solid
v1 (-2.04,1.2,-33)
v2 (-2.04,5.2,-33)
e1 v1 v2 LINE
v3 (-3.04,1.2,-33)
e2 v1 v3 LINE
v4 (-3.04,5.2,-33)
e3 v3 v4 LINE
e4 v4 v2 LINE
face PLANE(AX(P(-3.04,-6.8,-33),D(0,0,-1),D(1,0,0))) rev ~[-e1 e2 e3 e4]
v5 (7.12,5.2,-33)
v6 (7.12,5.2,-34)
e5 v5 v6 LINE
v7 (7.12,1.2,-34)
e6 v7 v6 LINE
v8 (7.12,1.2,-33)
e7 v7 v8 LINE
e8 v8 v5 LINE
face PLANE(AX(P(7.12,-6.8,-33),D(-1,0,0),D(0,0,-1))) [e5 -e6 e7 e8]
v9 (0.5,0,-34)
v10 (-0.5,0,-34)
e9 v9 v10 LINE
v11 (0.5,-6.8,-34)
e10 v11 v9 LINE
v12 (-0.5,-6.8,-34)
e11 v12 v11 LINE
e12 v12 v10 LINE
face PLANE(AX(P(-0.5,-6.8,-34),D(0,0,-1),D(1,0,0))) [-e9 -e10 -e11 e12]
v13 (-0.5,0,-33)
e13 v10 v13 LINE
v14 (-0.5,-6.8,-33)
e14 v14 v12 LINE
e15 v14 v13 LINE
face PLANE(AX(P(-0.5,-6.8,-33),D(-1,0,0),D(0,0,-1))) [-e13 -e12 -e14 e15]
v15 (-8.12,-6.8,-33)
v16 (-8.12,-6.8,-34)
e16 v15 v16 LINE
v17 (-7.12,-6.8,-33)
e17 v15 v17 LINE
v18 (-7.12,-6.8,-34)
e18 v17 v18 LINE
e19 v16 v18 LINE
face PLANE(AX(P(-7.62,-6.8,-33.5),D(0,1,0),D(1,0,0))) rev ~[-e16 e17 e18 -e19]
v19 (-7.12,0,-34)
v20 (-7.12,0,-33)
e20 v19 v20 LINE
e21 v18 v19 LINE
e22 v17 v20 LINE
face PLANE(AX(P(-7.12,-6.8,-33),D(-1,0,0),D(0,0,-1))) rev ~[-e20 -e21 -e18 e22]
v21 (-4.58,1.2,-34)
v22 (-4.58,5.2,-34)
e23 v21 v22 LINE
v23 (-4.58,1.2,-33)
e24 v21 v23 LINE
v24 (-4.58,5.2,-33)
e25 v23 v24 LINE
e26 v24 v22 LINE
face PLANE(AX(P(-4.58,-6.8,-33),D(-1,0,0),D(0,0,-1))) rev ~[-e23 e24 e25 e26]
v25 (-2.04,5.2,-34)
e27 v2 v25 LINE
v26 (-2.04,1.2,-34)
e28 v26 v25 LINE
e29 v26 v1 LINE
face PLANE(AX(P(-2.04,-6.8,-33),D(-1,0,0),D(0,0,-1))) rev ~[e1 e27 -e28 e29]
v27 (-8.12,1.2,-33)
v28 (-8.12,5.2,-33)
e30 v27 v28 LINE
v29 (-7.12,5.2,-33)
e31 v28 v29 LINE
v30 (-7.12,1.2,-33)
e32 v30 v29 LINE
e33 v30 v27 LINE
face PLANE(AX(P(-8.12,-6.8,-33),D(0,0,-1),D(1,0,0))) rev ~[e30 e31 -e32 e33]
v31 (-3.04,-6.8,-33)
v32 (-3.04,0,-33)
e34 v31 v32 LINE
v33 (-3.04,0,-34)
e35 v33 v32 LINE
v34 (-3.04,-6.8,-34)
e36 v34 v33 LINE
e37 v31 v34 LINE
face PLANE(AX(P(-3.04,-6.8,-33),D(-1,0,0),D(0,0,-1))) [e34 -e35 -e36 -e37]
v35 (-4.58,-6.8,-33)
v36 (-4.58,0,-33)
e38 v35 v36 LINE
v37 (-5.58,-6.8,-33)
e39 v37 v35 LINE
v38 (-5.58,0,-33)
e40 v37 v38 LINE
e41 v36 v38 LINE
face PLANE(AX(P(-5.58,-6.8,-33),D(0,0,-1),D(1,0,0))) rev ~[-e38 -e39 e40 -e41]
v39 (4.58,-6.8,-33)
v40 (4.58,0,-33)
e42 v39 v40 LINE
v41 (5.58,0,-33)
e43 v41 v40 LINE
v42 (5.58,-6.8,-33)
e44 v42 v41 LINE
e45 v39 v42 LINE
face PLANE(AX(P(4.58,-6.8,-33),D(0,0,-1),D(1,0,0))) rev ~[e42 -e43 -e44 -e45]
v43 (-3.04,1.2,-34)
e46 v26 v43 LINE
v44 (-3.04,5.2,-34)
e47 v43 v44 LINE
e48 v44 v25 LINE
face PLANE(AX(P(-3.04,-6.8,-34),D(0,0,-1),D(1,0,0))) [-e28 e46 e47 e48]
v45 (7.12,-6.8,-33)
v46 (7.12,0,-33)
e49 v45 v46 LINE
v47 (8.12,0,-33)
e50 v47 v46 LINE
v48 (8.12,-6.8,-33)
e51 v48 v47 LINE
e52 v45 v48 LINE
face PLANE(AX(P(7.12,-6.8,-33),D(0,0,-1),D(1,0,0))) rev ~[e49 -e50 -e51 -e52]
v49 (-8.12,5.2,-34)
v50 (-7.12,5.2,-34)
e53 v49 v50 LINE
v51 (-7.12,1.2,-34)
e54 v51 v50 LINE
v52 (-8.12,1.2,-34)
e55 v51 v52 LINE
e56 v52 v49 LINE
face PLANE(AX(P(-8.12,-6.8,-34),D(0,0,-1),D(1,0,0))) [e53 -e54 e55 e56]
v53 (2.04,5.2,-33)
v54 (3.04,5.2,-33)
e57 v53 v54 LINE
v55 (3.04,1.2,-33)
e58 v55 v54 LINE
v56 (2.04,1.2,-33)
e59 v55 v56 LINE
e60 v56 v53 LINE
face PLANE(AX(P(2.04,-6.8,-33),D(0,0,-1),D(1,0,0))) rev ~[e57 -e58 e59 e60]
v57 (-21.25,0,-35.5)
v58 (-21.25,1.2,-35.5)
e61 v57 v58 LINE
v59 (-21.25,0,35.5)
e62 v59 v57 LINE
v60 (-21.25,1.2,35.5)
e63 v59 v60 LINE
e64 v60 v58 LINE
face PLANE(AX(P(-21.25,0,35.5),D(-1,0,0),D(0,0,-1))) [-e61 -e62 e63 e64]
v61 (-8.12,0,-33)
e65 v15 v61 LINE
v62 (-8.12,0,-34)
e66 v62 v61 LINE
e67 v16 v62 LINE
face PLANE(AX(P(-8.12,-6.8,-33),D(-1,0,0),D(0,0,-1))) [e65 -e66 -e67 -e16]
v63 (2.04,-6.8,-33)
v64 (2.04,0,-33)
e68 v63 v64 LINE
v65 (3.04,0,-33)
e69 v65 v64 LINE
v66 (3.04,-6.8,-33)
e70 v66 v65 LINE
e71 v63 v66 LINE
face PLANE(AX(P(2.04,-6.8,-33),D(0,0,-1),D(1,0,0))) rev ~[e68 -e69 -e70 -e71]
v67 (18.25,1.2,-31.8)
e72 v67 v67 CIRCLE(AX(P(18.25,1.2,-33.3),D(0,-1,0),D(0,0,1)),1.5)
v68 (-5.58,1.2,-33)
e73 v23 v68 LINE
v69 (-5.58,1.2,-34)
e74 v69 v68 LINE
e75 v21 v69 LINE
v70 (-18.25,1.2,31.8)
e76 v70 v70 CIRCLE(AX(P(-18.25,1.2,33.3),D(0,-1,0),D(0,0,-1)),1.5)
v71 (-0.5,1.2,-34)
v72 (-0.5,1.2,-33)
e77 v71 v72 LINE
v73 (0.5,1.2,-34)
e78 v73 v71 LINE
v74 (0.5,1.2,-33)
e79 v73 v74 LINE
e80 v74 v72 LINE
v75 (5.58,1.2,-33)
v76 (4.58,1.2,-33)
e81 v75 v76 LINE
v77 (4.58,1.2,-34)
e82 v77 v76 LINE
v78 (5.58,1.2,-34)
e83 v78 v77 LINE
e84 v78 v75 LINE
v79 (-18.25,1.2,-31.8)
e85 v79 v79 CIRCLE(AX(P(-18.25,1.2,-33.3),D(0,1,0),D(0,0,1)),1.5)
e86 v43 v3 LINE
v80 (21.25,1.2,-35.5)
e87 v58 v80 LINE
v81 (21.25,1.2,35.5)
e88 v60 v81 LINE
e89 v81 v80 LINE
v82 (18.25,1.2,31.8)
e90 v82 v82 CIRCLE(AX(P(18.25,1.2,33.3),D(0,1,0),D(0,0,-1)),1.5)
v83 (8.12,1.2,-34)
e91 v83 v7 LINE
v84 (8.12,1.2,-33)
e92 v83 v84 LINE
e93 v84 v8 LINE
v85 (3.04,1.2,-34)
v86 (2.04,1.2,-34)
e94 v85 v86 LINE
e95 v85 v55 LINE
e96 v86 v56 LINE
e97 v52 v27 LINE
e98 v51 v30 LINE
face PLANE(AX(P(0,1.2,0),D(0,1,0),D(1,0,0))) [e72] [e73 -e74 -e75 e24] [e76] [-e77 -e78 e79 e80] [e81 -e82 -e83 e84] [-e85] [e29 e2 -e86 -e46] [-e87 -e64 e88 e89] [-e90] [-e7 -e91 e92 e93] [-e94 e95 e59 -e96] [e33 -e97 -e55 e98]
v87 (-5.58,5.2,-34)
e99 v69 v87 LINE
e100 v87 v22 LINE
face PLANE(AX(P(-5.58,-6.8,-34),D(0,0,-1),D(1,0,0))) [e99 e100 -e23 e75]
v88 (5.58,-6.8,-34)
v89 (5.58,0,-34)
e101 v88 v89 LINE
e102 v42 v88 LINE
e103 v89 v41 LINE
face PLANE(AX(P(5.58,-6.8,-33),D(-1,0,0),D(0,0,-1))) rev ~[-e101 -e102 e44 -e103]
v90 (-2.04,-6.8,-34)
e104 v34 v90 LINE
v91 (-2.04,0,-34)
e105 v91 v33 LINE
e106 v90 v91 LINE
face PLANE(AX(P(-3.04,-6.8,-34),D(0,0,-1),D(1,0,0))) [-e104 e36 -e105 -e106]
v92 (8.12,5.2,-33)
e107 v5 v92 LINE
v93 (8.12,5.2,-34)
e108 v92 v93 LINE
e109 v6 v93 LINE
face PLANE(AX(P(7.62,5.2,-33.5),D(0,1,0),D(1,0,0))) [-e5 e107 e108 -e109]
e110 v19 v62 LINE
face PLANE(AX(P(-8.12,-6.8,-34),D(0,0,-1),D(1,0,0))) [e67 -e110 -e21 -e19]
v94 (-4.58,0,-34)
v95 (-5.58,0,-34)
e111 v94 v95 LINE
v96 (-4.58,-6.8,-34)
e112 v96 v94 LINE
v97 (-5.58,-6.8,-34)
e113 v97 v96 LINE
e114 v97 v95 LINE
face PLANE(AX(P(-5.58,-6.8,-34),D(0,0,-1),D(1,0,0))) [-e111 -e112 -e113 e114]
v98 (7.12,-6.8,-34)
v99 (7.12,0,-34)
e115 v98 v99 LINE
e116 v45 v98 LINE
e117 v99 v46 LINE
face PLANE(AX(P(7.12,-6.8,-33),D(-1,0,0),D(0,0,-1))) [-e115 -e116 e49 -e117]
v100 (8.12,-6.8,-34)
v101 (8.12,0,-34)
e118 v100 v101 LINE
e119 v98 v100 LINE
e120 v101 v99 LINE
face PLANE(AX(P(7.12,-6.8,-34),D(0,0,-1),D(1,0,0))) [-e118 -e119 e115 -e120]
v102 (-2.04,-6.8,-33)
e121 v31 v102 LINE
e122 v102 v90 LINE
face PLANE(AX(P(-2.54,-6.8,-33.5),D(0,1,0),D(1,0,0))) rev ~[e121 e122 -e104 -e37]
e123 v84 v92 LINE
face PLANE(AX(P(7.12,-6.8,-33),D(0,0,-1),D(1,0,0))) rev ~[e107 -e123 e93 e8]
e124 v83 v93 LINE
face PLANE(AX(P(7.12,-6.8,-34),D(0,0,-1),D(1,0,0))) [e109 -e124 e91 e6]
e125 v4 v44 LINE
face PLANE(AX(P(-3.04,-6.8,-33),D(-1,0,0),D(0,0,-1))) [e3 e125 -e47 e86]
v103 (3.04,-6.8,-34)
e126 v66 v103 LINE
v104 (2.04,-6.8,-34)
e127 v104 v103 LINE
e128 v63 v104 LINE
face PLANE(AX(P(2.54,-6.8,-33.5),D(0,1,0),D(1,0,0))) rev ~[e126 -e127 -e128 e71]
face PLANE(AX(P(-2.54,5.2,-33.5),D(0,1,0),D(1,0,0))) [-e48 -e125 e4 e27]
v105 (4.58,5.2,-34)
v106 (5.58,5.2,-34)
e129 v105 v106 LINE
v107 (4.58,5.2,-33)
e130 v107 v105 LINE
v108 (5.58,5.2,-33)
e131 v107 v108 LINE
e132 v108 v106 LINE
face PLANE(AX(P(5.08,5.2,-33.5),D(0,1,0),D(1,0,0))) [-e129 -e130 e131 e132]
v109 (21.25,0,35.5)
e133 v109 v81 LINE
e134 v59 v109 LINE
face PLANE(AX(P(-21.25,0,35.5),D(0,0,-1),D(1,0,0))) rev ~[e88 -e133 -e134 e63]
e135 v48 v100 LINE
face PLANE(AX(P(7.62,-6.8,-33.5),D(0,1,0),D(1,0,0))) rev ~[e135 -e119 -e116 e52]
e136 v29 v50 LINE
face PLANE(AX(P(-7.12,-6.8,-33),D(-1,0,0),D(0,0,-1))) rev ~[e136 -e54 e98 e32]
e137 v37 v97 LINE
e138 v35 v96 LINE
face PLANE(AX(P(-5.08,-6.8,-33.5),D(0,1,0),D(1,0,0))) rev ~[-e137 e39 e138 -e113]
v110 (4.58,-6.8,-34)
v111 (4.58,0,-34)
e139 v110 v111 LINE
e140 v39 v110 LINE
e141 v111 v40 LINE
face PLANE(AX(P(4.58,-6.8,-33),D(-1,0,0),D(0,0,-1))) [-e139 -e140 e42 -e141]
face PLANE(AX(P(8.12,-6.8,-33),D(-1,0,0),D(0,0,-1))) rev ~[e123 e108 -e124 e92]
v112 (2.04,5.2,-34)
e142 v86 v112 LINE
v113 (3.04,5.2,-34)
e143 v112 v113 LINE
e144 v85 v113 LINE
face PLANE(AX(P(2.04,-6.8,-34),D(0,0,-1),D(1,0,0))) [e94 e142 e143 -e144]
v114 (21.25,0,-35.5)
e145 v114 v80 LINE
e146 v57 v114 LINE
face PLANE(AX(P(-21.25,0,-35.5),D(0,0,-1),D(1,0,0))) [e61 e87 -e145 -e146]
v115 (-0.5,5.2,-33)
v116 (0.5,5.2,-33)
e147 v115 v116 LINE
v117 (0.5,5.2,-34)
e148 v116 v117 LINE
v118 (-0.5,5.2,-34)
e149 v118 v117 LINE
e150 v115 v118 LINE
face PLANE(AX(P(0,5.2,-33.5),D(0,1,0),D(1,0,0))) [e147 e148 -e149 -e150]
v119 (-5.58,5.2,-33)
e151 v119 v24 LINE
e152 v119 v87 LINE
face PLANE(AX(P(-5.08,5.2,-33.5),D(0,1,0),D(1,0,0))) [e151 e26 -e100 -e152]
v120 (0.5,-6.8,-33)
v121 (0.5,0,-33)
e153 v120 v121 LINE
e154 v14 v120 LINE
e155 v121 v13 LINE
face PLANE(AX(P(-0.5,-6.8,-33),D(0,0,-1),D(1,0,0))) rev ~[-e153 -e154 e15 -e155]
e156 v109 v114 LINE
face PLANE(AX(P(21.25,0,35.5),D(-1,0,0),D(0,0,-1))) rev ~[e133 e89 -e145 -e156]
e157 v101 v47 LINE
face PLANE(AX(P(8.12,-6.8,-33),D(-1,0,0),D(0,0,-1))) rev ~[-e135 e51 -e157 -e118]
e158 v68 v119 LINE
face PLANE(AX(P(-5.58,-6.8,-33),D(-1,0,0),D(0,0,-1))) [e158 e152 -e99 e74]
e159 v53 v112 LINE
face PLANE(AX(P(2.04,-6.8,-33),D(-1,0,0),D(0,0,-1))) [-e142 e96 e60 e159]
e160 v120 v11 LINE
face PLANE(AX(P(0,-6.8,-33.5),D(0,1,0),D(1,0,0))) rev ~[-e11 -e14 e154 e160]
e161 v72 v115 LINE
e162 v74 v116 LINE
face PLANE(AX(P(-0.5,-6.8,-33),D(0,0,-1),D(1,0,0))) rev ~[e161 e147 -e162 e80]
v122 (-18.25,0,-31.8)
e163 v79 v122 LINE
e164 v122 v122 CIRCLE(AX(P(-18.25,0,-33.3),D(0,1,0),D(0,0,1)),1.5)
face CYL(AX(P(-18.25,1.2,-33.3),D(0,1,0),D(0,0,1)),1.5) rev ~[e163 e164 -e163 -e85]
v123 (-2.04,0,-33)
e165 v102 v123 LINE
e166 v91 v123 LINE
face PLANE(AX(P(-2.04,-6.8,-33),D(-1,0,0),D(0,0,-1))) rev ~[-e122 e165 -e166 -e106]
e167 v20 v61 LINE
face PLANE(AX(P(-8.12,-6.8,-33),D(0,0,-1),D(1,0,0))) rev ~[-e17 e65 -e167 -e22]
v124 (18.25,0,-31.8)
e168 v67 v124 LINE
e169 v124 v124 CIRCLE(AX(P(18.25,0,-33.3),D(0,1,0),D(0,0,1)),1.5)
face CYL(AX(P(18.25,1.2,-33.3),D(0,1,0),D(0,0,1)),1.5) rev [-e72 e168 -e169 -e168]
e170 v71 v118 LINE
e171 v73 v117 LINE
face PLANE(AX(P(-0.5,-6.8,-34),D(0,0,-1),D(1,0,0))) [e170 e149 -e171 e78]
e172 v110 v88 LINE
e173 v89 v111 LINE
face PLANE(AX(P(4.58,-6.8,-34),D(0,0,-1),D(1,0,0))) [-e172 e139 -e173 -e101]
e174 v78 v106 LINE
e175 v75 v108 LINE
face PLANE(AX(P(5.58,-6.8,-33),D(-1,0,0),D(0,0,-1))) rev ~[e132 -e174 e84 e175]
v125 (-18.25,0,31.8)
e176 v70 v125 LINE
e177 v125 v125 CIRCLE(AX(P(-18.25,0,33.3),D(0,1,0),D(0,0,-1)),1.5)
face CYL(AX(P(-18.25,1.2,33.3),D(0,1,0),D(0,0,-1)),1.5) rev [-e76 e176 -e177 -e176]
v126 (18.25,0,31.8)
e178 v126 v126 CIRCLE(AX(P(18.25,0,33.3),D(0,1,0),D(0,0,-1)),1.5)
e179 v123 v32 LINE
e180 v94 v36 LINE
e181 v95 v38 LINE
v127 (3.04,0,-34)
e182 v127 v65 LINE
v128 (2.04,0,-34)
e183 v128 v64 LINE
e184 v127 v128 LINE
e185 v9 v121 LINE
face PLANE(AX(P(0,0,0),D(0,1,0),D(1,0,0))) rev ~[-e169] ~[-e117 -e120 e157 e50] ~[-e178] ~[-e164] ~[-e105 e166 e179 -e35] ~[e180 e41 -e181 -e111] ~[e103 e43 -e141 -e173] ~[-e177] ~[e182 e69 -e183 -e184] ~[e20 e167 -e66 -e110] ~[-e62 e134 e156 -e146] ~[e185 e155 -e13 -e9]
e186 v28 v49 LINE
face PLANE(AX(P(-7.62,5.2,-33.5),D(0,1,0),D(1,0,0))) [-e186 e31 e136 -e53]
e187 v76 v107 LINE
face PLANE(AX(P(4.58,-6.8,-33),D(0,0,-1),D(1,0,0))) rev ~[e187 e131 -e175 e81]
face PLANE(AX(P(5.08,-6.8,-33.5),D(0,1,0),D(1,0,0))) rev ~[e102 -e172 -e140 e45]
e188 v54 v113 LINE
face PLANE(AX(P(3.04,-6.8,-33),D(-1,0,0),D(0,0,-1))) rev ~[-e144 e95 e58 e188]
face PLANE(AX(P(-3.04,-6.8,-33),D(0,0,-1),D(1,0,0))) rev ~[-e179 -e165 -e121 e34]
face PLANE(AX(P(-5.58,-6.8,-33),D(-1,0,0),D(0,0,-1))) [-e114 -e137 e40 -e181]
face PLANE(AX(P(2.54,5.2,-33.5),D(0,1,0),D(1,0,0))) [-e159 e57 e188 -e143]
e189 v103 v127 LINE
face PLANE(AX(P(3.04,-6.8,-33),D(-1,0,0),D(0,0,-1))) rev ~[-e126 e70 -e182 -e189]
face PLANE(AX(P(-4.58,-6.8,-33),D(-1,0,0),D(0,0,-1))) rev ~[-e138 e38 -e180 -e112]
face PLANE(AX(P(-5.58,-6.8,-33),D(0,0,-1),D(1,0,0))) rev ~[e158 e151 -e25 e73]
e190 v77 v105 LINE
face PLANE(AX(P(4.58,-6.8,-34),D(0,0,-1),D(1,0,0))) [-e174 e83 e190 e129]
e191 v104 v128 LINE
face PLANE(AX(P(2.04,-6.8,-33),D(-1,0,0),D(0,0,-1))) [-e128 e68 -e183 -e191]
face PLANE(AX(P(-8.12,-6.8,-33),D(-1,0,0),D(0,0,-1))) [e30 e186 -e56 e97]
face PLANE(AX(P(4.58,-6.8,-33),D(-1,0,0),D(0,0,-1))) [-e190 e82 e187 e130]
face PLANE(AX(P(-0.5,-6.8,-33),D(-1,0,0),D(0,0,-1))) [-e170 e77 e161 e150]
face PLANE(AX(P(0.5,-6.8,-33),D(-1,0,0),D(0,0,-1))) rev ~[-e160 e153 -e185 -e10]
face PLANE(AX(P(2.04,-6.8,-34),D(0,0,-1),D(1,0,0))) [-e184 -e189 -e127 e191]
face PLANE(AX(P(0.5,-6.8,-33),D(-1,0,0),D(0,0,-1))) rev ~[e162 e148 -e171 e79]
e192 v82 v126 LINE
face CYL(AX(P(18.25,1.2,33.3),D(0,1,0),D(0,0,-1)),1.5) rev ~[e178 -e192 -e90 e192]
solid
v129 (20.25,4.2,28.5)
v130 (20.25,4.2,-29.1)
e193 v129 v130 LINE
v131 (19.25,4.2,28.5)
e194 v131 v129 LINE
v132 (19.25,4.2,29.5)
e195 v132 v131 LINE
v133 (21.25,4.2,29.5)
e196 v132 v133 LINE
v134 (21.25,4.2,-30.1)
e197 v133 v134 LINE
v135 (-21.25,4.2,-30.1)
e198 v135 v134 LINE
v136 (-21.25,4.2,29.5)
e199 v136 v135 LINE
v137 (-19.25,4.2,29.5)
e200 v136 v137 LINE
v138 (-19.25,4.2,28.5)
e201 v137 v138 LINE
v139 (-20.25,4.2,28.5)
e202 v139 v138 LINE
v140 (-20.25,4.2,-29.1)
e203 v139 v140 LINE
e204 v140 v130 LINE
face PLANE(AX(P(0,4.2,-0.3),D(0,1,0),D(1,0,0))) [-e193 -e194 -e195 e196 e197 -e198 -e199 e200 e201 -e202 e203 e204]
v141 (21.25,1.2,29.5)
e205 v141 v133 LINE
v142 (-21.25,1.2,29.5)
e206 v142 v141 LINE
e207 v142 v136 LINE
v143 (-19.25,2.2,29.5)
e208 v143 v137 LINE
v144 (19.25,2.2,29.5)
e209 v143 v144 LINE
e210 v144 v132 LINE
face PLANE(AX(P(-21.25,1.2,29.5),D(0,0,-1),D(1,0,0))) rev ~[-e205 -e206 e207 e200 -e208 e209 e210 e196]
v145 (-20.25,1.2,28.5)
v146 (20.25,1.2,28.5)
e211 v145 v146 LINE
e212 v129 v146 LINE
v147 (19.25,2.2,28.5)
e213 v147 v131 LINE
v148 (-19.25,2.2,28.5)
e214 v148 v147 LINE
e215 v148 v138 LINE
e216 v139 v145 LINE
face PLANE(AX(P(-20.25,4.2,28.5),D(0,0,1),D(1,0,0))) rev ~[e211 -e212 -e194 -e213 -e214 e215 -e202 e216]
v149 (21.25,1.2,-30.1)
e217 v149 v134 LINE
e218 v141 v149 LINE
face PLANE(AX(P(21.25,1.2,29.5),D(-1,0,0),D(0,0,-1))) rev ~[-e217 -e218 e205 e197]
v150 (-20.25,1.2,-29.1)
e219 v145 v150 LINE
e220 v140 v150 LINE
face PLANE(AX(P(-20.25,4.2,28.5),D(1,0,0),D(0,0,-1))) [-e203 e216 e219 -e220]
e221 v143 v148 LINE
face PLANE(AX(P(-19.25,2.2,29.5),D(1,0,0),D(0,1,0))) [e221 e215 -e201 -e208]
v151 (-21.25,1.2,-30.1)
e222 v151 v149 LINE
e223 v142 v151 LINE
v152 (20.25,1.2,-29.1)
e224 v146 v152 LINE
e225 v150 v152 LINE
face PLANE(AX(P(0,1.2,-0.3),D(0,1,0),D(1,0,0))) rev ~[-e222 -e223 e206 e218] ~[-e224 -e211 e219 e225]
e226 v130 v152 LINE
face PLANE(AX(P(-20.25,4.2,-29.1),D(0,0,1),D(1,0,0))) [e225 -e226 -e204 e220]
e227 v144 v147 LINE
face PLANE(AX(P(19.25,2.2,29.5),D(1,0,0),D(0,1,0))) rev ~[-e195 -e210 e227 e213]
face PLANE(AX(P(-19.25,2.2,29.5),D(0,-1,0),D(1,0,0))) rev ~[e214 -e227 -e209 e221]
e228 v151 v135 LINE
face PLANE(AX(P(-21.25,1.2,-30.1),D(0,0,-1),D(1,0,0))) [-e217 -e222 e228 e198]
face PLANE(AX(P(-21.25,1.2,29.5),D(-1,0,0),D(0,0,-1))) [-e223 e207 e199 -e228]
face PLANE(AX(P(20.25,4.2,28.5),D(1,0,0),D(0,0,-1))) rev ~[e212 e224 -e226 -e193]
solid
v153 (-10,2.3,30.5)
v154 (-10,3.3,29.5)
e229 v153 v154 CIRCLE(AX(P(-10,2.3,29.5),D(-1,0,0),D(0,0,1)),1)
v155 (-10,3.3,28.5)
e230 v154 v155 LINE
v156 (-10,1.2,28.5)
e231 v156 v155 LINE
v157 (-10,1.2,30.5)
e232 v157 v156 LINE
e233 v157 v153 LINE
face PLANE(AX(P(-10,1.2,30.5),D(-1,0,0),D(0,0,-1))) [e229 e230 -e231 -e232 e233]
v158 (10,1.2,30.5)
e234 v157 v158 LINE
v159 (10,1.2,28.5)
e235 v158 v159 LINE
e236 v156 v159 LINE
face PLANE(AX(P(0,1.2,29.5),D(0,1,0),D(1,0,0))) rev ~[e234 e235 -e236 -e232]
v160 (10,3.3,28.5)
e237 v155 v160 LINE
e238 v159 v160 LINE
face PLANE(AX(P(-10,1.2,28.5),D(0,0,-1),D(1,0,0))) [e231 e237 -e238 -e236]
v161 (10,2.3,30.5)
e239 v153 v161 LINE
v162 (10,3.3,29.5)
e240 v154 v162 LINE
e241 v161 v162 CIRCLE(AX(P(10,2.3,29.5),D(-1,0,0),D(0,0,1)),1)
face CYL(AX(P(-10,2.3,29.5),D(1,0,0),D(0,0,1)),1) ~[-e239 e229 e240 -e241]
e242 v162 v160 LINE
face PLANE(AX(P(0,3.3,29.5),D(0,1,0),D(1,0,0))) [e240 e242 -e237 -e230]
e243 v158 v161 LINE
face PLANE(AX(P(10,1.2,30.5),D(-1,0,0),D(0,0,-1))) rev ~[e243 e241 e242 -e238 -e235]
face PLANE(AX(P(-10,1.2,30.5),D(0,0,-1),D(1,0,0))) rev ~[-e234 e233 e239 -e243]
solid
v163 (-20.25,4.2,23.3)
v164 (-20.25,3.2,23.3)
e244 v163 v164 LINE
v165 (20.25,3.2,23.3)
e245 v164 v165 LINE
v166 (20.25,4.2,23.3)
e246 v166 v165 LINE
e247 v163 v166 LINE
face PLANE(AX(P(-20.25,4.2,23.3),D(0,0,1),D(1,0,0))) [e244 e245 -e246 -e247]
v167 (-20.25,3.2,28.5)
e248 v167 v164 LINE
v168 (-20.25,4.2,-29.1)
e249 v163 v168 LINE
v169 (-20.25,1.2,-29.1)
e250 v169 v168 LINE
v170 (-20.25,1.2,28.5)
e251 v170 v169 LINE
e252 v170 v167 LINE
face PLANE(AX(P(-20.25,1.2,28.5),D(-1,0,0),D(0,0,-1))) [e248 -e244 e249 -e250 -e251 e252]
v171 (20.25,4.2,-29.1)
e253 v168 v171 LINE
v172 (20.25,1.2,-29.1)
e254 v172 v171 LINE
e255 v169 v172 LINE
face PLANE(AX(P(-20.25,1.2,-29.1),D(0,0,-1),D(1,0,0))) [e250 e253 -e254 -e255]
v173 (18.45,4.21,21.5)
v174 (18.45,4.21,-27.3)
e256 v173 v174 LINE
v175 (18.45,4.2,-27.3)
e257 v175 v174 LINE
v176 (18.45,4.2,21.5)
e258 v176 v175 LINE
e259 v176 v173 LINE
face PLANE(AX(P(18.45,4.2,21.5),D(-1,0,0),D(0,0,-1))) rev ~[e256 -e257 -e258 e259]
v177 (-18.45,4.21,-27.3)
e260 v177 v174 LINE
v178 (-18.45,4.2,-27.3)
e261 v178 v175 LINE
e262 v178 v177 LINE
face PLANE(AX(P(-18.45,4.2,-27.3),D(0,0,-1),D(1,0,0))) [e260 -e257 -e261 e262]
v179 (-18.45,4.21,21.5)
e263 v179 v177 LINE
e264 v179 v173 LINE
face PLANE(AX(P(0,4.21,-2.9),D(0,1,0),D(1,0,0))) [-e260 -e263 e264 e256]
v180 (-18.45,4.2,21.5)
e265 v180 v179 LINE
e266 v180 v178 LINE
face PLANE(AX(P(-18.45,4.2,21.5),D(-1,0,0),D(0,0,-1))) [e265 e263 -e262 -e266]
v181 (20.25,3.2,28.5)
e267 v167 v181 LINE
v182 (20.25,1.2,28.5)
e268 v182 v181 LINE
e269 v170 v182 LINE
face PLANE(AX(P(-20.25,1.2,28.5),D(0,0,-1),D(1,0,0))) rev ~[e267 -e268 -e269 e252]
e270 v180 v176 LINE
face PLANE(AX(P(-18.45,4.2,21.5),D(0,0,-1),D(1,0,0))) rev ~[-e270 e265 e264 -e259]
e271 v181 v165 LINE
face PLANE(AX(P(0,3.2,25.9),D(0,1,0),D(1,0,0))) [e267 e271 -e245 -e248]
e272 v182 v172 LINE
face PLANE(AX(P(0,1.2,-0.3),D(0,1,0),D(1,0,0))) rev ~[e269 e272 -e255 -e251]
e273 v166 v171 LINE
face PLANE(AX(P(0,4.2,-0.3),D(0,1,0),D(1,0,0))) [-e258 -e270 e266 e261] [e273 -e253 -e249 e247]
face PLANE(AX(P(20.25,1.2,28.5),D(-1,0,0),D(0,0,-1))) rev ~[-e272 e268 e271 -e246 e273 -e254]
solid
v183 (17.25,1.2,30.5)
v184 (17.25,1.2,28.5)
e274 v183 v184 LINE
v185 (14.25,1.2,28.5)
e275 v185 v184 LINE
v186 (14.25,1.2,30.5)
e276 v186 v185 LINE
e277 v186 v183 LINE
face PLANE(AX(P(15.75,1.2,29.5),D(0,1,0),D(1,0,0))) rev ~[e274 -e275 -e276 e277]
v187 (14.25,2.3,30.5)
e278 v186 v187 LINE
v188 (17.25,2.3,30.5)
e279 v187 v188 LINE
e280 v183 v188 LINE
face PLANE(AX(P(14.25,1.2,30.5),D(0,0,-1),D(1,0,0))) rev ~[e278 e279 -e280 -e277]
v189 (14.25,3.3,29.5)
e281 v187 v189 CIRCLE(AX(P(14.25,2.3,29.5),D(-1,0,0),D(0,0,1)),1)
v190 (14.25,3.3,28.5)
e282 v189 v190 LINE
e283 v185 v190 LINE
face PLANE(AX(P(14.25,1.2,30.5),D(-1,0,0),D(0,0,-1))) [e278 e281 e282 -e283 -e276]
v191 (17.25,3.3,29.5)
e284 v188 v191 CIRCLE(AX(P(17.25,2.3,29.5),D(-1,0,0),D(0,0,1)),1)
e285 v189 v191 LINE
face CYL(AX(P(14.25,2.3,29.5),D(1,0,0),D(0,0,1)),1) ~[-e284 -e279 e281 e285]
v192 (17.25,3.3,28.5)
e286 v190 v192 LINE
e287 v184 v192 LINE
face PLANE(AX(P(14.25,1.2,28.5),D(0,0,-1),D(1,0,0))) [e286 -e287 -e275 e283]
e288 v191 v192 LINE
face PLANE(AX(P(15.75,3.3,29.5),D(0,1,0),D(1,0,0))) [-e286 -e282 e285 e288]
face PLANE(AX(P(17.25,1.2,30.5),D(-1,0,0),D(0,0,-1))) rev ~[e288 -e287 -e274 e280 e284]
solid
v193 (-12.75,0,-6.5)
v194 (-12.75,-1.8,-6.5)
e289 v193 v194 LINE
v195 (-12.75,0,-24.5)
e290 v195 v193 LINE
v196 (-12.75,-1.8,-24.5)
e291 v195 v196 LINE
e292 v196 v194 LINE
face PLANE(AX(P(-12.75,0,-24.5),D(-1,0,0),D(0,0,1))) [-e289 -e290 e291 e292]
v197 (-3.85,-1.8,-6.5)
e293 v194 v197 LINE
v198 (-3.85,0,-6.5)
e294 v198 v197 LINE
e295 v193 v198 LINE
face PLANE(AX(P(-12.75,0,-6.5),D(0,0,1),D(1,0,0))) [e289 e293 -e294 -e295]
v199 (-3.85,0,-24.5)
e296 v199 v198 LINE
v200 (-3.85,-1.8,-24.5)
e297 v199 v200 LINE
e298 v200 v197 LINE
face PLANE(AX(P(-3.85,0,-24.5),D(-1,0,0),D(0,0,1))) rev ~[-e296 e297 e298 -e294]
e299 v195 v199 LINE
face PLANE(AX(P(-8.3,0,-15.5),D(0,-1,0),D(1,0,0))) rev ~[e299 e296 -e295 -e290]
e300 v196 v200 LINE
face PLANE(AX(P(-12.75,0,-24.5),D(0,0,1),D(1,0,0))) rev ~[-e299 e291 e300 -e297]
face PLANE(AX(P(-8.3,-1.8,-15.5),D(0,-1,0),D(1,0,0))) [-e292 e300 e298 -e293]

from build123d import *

# Parameters (mm, degrees)
SKETCH1_W                                  = 42.5
SKETCH1_H                                  = 71
BOSS_EXTRUDE1_DEPTH                        = 1.2
SKETCH7_R                                  = 1.5
CUT_EXTRUDE2_DEPTH                         = 42.391454432
MIRROR1_AT_THE_SECOND_PLANE_COPY_1_SKETC_R = 1.5
MIRROR1_AT_THE_SECOND_PLANE_COPY_1_DEPTH   = 42.391454432
BOSS_EXTRUDE5_START                        = -8
SKETCH8_W                                  = 1
SKETCH8_H                                  = 1
BOSS_EXTRUDE5_DEPTH                        = 12
LPATTERN1_COUNT                            = 4
LPATTERN1_PITCH                            = 2.54
LPATTERN1_COL_COUNT                        = 4
LPATTERN1_COL_PITCH                        = 2.54
SKETCH10_W                                 = 8.9
SKETCH10_H                                 = 18
PCB_COMPONENTS_DEPTH                       = 1.8
SKETCH2_W                                  = 42.5
SKETCH2_H                                  = 59.6
BOSS_EXTRUDE2_DEPTH                        = 3
SKETCH3_W                                  = 40.5
SKETCH3_H                                  = 57.6
CUT_EXTRUDE1_DEPTH                         = 43.811359474
SKETCH12_W                                 = 38.5
SKETCH12_H                                 = 2
CUT_EXTRUDE4_DEPTH                         = 1
SKETCH5_W                                  = 40.5
SKETCH5_H                                  = 57.6
BOSS_EXTRUDE3_DEPTH                        = 3
SKETCH9_W                                  = 40.5
SKETCH9_H                                  = 5.2
CUT_EXTRUDE3_DEPTH                         = 1
SKETCH6_W                                  = 36.9
SKETCH6_H                                  = 48.8
BOSS_EXTRUDE4_DEPTH                        = 0.01
SKETCH11_W                                 = 20
SKETCH11_H                                 = 2
BOSS_EXTRUDE7_DEPTH                        = 2.1
SKETCH11_W_2                               = 3
BOSS_EXTRUDE7_2_DEPTH                      = 2.1
FILLET1_R                                  = 1
FILLET2_R                                  = 1


with BuildPart() as part:
    # Sketch1 → Boss-Extrude1 (new body)
    with BuildSketch(Plane(origin=(0, 0, 0), x_dir=(1, 0, 0), z_dir=(0, 1, 0))):
        Rectangle(SKETCH1_W, SKETCH1_H)
    extrude(amount=BOSS_EXTRUDE1_DEPTH)

    # Sketch7 → Cut-Extrude2 (cut, through all)
    with BuildSketch(Plane(origin=(0, 1.2, 0), x_dir=(1, 0, 0), z_dir=(0, 1, 0))):
        with Locations(Location((-18.25, 33.3, 0), (0, 0, 270))):
            Circle(SKETCH7_R)
    cut_extrude2 = extrude(amount=-CUT_EXTRUDE2_DEPTH, mode=Mode.SUBTRACT)

    # Mirror1: Cut-Extrude2 across plane
    add(cut_extrude2.mirror(Plane.XY), mode=Mode.SUBTRACT)

    # Mirror1 at the second plane: Cut-Extrude2 across plane
    add(cut_extrude2.mirror(Plane(origin=(0, 0, 0), x_dir=(0, 0, 1), z_dir=(1, 0, 0))), mode=Mode.SUBTRACT)

    # Mirror1 at the second plane copy 1 sketc → Mirror1 at the second plane copy 1 (cut, through all)
    with BuildSketch(Plane(origin=(0, 1.2, 0), x_dir=(-1, 0, 0), z_dir=(0, 1, 0))):
        with Locations(Location((-18.25, 33.3, 0), (0, 0, 270))):
            Circle(MIRROR1_AT_THE_SECOND_PLANE_COPY_1_SKETC_R)
    extrude(amount=-MIRROR1_AT_THE_SECOND_PLANE_COPY_1_DEPTH, mode=Mode.SUBTRACT)

    # Sketch8 → Boss-Extrude5 (add)
    with BuildSketch(Plane(origin=(0, 1.2, 0), x_dir=(1, 0, 0), z_dir=(0, 1, 0)).offset(BOSS_EXTRUDE5_START)):
        with Locations((0, 33.5)):
            Rectangle(SKETCH8_W, SKETCH8_H)
    boss_extrude5 = extrude(amount=BOSS_EXTRUDE5_DEPTH)

    # LPattern1: Boss-Extrude5 ×4
    with Locations(*[(i * LPATTERN1_PITCH, 0, 0) for i in range(1, LPATTERN1_COUNT)]):
        add(boss_extrude5)

    # LPattern1 col: Boss-Extrude5 ×4
    with Locations(*[(-i * LPATTERN1_COL_PITCH, 0, 0) for i in range(1, LPATTERN1_COL_COUNT)]):
        add(boss_extrude5)


with BuildPart() as body_2:
    # Sketch10 → PCB components (new body)
    with BuildSketch(Plane.XZ):
        with Locations((-8.3, -15.5)):
            Rectangle(SKETCH10_W, SKETCH10_H)
    extrude(amount=PCB_COMPONENTS_DEPTH)


with BuildPart() as body_3:
    # Sketch2 → Boss-Extrude2 (new body)
    with BuildSketch(Plane(origin=(0, 1.2, 0), x_dir=(1, 0, 0), z_dir=(0, 1, 0))):
        with Locations((0, 0.3)):
            Rectangle(SKETCH2_W, SKETCH2_H)
    extrude(amount=BOSS_EXTRUDE2_DEPTH)

    # Sketch3 → Cut-Extrude1 (cut, through all)
    with BuildSketch(Plane(origin=(0, 4.2, 0), x_dir=(1, 0, 0), z_dir=(0, 1, 0))):
        with Locations((0, 0.3)):
            Rectangle(SKETCH3_W, SKETCH3_H)
    extrude(amount=-CUT_EXTRUDE1_DEPTH, mode=Mode.SUBTRACT)

    # Sketch12 → Cut-Extrude4 (cut)
    with BuildSketch(Plane.XY.offset(29.5)):
        with Locations((0, 3.2)):
            Rectangle(SKETCH12_W, SKETCH12_H)
    extrude(amount=-CUT_EXTRUDE4_DEPTH, mode=Mode.SUBTRACT)


with BuildPart() as body_4:
    # Sketch5 → Boss-Extrude3 (new body)
    with BuildSketch(Plane(origin=(0, 1.2, 0), x_dir=(1, 0, 0), z_dir=(0, 1, 0))):
        with Locations((0, 0.3)):
            Rectangle(SKETCH5_W, SKETCH5_H)
    extrude(amount=BOSS_EXTRUDE3_DEPTH)

    # Sketch9 → Cut-Extrude3 (cut)
    with BuildSketch(Plane(origin=(0, 4.2, 0), x_dir=(1, 0, 0), z_dir=(0, 1, 0))):
        with Locations((0, -25.9)):
            Rectangle(SKETCH9_W, SKETCH9_H)
    extrude(amount=-CUT_EXTRUDE3_DEPTH, mode=Mode.SUBTRACT)

    # Sketch6 → Boss-Extrude4 (add)
    with BuildSketch(Plane(origin=(0, 4.2, 0), x_dir=(1, 0, 0), z_dir=(0, 1, 0))):
        with Locations((0, 2.9)):
            Rectangle(SKETCH6_W, SKETCH6_H)
    extrude(amount=BOSS_EXTRUDE4_DEPTH)


with BuildPart() as body_5:
    # Sketch11 → Boss-Extrude7 (new body)
    with BuildSketch(Plane(origin=(0, 1.2, 0), x_dir=(1, 0, 0), z_dir=(0, 1, 0))):
        with Locations((0, -29.5)):
            Rectangle(SKETCH11_W, SKETCH11_H)
    extrude(amount=BOSS_EXTRUDE7_DEPTH)

    # Fillet1
    fillet1_edges = [body_5.edges().sort_by_distance(p)[0] for p in [
        (0, 3.3, 30.5),
    ]]
    fillet(fillet1_edges, radius=FILLET1_R)


with BuildPart() as body_6:
    # Sketch11 → Boss-Extrude7 2 (new body)
    with BuildSketch(Plane(origin=(0, 1.2, 0), x_dir=(1, 0, 0), z_dir=(0, 1, 0))):
        with Locations((15.75, -29.5)):
            Rectangle(SKETCH11_W_2, SKETCH11_H)
    extrude(amount=BOSS_EXTRUDE7_2_DEPTH)

    # Fillet2
    fillet2_edges = [body_6.edges().sort_by_distance(p)[0] for p in [
        (15.75, 3.3, 30.5),
    ]]
    fillet(fillet2_edges, radius=FILLET2_R)


solid = Compound([part.part, body_2.part, body_3.part, body_4.part, body_5.part, body_6.part])
